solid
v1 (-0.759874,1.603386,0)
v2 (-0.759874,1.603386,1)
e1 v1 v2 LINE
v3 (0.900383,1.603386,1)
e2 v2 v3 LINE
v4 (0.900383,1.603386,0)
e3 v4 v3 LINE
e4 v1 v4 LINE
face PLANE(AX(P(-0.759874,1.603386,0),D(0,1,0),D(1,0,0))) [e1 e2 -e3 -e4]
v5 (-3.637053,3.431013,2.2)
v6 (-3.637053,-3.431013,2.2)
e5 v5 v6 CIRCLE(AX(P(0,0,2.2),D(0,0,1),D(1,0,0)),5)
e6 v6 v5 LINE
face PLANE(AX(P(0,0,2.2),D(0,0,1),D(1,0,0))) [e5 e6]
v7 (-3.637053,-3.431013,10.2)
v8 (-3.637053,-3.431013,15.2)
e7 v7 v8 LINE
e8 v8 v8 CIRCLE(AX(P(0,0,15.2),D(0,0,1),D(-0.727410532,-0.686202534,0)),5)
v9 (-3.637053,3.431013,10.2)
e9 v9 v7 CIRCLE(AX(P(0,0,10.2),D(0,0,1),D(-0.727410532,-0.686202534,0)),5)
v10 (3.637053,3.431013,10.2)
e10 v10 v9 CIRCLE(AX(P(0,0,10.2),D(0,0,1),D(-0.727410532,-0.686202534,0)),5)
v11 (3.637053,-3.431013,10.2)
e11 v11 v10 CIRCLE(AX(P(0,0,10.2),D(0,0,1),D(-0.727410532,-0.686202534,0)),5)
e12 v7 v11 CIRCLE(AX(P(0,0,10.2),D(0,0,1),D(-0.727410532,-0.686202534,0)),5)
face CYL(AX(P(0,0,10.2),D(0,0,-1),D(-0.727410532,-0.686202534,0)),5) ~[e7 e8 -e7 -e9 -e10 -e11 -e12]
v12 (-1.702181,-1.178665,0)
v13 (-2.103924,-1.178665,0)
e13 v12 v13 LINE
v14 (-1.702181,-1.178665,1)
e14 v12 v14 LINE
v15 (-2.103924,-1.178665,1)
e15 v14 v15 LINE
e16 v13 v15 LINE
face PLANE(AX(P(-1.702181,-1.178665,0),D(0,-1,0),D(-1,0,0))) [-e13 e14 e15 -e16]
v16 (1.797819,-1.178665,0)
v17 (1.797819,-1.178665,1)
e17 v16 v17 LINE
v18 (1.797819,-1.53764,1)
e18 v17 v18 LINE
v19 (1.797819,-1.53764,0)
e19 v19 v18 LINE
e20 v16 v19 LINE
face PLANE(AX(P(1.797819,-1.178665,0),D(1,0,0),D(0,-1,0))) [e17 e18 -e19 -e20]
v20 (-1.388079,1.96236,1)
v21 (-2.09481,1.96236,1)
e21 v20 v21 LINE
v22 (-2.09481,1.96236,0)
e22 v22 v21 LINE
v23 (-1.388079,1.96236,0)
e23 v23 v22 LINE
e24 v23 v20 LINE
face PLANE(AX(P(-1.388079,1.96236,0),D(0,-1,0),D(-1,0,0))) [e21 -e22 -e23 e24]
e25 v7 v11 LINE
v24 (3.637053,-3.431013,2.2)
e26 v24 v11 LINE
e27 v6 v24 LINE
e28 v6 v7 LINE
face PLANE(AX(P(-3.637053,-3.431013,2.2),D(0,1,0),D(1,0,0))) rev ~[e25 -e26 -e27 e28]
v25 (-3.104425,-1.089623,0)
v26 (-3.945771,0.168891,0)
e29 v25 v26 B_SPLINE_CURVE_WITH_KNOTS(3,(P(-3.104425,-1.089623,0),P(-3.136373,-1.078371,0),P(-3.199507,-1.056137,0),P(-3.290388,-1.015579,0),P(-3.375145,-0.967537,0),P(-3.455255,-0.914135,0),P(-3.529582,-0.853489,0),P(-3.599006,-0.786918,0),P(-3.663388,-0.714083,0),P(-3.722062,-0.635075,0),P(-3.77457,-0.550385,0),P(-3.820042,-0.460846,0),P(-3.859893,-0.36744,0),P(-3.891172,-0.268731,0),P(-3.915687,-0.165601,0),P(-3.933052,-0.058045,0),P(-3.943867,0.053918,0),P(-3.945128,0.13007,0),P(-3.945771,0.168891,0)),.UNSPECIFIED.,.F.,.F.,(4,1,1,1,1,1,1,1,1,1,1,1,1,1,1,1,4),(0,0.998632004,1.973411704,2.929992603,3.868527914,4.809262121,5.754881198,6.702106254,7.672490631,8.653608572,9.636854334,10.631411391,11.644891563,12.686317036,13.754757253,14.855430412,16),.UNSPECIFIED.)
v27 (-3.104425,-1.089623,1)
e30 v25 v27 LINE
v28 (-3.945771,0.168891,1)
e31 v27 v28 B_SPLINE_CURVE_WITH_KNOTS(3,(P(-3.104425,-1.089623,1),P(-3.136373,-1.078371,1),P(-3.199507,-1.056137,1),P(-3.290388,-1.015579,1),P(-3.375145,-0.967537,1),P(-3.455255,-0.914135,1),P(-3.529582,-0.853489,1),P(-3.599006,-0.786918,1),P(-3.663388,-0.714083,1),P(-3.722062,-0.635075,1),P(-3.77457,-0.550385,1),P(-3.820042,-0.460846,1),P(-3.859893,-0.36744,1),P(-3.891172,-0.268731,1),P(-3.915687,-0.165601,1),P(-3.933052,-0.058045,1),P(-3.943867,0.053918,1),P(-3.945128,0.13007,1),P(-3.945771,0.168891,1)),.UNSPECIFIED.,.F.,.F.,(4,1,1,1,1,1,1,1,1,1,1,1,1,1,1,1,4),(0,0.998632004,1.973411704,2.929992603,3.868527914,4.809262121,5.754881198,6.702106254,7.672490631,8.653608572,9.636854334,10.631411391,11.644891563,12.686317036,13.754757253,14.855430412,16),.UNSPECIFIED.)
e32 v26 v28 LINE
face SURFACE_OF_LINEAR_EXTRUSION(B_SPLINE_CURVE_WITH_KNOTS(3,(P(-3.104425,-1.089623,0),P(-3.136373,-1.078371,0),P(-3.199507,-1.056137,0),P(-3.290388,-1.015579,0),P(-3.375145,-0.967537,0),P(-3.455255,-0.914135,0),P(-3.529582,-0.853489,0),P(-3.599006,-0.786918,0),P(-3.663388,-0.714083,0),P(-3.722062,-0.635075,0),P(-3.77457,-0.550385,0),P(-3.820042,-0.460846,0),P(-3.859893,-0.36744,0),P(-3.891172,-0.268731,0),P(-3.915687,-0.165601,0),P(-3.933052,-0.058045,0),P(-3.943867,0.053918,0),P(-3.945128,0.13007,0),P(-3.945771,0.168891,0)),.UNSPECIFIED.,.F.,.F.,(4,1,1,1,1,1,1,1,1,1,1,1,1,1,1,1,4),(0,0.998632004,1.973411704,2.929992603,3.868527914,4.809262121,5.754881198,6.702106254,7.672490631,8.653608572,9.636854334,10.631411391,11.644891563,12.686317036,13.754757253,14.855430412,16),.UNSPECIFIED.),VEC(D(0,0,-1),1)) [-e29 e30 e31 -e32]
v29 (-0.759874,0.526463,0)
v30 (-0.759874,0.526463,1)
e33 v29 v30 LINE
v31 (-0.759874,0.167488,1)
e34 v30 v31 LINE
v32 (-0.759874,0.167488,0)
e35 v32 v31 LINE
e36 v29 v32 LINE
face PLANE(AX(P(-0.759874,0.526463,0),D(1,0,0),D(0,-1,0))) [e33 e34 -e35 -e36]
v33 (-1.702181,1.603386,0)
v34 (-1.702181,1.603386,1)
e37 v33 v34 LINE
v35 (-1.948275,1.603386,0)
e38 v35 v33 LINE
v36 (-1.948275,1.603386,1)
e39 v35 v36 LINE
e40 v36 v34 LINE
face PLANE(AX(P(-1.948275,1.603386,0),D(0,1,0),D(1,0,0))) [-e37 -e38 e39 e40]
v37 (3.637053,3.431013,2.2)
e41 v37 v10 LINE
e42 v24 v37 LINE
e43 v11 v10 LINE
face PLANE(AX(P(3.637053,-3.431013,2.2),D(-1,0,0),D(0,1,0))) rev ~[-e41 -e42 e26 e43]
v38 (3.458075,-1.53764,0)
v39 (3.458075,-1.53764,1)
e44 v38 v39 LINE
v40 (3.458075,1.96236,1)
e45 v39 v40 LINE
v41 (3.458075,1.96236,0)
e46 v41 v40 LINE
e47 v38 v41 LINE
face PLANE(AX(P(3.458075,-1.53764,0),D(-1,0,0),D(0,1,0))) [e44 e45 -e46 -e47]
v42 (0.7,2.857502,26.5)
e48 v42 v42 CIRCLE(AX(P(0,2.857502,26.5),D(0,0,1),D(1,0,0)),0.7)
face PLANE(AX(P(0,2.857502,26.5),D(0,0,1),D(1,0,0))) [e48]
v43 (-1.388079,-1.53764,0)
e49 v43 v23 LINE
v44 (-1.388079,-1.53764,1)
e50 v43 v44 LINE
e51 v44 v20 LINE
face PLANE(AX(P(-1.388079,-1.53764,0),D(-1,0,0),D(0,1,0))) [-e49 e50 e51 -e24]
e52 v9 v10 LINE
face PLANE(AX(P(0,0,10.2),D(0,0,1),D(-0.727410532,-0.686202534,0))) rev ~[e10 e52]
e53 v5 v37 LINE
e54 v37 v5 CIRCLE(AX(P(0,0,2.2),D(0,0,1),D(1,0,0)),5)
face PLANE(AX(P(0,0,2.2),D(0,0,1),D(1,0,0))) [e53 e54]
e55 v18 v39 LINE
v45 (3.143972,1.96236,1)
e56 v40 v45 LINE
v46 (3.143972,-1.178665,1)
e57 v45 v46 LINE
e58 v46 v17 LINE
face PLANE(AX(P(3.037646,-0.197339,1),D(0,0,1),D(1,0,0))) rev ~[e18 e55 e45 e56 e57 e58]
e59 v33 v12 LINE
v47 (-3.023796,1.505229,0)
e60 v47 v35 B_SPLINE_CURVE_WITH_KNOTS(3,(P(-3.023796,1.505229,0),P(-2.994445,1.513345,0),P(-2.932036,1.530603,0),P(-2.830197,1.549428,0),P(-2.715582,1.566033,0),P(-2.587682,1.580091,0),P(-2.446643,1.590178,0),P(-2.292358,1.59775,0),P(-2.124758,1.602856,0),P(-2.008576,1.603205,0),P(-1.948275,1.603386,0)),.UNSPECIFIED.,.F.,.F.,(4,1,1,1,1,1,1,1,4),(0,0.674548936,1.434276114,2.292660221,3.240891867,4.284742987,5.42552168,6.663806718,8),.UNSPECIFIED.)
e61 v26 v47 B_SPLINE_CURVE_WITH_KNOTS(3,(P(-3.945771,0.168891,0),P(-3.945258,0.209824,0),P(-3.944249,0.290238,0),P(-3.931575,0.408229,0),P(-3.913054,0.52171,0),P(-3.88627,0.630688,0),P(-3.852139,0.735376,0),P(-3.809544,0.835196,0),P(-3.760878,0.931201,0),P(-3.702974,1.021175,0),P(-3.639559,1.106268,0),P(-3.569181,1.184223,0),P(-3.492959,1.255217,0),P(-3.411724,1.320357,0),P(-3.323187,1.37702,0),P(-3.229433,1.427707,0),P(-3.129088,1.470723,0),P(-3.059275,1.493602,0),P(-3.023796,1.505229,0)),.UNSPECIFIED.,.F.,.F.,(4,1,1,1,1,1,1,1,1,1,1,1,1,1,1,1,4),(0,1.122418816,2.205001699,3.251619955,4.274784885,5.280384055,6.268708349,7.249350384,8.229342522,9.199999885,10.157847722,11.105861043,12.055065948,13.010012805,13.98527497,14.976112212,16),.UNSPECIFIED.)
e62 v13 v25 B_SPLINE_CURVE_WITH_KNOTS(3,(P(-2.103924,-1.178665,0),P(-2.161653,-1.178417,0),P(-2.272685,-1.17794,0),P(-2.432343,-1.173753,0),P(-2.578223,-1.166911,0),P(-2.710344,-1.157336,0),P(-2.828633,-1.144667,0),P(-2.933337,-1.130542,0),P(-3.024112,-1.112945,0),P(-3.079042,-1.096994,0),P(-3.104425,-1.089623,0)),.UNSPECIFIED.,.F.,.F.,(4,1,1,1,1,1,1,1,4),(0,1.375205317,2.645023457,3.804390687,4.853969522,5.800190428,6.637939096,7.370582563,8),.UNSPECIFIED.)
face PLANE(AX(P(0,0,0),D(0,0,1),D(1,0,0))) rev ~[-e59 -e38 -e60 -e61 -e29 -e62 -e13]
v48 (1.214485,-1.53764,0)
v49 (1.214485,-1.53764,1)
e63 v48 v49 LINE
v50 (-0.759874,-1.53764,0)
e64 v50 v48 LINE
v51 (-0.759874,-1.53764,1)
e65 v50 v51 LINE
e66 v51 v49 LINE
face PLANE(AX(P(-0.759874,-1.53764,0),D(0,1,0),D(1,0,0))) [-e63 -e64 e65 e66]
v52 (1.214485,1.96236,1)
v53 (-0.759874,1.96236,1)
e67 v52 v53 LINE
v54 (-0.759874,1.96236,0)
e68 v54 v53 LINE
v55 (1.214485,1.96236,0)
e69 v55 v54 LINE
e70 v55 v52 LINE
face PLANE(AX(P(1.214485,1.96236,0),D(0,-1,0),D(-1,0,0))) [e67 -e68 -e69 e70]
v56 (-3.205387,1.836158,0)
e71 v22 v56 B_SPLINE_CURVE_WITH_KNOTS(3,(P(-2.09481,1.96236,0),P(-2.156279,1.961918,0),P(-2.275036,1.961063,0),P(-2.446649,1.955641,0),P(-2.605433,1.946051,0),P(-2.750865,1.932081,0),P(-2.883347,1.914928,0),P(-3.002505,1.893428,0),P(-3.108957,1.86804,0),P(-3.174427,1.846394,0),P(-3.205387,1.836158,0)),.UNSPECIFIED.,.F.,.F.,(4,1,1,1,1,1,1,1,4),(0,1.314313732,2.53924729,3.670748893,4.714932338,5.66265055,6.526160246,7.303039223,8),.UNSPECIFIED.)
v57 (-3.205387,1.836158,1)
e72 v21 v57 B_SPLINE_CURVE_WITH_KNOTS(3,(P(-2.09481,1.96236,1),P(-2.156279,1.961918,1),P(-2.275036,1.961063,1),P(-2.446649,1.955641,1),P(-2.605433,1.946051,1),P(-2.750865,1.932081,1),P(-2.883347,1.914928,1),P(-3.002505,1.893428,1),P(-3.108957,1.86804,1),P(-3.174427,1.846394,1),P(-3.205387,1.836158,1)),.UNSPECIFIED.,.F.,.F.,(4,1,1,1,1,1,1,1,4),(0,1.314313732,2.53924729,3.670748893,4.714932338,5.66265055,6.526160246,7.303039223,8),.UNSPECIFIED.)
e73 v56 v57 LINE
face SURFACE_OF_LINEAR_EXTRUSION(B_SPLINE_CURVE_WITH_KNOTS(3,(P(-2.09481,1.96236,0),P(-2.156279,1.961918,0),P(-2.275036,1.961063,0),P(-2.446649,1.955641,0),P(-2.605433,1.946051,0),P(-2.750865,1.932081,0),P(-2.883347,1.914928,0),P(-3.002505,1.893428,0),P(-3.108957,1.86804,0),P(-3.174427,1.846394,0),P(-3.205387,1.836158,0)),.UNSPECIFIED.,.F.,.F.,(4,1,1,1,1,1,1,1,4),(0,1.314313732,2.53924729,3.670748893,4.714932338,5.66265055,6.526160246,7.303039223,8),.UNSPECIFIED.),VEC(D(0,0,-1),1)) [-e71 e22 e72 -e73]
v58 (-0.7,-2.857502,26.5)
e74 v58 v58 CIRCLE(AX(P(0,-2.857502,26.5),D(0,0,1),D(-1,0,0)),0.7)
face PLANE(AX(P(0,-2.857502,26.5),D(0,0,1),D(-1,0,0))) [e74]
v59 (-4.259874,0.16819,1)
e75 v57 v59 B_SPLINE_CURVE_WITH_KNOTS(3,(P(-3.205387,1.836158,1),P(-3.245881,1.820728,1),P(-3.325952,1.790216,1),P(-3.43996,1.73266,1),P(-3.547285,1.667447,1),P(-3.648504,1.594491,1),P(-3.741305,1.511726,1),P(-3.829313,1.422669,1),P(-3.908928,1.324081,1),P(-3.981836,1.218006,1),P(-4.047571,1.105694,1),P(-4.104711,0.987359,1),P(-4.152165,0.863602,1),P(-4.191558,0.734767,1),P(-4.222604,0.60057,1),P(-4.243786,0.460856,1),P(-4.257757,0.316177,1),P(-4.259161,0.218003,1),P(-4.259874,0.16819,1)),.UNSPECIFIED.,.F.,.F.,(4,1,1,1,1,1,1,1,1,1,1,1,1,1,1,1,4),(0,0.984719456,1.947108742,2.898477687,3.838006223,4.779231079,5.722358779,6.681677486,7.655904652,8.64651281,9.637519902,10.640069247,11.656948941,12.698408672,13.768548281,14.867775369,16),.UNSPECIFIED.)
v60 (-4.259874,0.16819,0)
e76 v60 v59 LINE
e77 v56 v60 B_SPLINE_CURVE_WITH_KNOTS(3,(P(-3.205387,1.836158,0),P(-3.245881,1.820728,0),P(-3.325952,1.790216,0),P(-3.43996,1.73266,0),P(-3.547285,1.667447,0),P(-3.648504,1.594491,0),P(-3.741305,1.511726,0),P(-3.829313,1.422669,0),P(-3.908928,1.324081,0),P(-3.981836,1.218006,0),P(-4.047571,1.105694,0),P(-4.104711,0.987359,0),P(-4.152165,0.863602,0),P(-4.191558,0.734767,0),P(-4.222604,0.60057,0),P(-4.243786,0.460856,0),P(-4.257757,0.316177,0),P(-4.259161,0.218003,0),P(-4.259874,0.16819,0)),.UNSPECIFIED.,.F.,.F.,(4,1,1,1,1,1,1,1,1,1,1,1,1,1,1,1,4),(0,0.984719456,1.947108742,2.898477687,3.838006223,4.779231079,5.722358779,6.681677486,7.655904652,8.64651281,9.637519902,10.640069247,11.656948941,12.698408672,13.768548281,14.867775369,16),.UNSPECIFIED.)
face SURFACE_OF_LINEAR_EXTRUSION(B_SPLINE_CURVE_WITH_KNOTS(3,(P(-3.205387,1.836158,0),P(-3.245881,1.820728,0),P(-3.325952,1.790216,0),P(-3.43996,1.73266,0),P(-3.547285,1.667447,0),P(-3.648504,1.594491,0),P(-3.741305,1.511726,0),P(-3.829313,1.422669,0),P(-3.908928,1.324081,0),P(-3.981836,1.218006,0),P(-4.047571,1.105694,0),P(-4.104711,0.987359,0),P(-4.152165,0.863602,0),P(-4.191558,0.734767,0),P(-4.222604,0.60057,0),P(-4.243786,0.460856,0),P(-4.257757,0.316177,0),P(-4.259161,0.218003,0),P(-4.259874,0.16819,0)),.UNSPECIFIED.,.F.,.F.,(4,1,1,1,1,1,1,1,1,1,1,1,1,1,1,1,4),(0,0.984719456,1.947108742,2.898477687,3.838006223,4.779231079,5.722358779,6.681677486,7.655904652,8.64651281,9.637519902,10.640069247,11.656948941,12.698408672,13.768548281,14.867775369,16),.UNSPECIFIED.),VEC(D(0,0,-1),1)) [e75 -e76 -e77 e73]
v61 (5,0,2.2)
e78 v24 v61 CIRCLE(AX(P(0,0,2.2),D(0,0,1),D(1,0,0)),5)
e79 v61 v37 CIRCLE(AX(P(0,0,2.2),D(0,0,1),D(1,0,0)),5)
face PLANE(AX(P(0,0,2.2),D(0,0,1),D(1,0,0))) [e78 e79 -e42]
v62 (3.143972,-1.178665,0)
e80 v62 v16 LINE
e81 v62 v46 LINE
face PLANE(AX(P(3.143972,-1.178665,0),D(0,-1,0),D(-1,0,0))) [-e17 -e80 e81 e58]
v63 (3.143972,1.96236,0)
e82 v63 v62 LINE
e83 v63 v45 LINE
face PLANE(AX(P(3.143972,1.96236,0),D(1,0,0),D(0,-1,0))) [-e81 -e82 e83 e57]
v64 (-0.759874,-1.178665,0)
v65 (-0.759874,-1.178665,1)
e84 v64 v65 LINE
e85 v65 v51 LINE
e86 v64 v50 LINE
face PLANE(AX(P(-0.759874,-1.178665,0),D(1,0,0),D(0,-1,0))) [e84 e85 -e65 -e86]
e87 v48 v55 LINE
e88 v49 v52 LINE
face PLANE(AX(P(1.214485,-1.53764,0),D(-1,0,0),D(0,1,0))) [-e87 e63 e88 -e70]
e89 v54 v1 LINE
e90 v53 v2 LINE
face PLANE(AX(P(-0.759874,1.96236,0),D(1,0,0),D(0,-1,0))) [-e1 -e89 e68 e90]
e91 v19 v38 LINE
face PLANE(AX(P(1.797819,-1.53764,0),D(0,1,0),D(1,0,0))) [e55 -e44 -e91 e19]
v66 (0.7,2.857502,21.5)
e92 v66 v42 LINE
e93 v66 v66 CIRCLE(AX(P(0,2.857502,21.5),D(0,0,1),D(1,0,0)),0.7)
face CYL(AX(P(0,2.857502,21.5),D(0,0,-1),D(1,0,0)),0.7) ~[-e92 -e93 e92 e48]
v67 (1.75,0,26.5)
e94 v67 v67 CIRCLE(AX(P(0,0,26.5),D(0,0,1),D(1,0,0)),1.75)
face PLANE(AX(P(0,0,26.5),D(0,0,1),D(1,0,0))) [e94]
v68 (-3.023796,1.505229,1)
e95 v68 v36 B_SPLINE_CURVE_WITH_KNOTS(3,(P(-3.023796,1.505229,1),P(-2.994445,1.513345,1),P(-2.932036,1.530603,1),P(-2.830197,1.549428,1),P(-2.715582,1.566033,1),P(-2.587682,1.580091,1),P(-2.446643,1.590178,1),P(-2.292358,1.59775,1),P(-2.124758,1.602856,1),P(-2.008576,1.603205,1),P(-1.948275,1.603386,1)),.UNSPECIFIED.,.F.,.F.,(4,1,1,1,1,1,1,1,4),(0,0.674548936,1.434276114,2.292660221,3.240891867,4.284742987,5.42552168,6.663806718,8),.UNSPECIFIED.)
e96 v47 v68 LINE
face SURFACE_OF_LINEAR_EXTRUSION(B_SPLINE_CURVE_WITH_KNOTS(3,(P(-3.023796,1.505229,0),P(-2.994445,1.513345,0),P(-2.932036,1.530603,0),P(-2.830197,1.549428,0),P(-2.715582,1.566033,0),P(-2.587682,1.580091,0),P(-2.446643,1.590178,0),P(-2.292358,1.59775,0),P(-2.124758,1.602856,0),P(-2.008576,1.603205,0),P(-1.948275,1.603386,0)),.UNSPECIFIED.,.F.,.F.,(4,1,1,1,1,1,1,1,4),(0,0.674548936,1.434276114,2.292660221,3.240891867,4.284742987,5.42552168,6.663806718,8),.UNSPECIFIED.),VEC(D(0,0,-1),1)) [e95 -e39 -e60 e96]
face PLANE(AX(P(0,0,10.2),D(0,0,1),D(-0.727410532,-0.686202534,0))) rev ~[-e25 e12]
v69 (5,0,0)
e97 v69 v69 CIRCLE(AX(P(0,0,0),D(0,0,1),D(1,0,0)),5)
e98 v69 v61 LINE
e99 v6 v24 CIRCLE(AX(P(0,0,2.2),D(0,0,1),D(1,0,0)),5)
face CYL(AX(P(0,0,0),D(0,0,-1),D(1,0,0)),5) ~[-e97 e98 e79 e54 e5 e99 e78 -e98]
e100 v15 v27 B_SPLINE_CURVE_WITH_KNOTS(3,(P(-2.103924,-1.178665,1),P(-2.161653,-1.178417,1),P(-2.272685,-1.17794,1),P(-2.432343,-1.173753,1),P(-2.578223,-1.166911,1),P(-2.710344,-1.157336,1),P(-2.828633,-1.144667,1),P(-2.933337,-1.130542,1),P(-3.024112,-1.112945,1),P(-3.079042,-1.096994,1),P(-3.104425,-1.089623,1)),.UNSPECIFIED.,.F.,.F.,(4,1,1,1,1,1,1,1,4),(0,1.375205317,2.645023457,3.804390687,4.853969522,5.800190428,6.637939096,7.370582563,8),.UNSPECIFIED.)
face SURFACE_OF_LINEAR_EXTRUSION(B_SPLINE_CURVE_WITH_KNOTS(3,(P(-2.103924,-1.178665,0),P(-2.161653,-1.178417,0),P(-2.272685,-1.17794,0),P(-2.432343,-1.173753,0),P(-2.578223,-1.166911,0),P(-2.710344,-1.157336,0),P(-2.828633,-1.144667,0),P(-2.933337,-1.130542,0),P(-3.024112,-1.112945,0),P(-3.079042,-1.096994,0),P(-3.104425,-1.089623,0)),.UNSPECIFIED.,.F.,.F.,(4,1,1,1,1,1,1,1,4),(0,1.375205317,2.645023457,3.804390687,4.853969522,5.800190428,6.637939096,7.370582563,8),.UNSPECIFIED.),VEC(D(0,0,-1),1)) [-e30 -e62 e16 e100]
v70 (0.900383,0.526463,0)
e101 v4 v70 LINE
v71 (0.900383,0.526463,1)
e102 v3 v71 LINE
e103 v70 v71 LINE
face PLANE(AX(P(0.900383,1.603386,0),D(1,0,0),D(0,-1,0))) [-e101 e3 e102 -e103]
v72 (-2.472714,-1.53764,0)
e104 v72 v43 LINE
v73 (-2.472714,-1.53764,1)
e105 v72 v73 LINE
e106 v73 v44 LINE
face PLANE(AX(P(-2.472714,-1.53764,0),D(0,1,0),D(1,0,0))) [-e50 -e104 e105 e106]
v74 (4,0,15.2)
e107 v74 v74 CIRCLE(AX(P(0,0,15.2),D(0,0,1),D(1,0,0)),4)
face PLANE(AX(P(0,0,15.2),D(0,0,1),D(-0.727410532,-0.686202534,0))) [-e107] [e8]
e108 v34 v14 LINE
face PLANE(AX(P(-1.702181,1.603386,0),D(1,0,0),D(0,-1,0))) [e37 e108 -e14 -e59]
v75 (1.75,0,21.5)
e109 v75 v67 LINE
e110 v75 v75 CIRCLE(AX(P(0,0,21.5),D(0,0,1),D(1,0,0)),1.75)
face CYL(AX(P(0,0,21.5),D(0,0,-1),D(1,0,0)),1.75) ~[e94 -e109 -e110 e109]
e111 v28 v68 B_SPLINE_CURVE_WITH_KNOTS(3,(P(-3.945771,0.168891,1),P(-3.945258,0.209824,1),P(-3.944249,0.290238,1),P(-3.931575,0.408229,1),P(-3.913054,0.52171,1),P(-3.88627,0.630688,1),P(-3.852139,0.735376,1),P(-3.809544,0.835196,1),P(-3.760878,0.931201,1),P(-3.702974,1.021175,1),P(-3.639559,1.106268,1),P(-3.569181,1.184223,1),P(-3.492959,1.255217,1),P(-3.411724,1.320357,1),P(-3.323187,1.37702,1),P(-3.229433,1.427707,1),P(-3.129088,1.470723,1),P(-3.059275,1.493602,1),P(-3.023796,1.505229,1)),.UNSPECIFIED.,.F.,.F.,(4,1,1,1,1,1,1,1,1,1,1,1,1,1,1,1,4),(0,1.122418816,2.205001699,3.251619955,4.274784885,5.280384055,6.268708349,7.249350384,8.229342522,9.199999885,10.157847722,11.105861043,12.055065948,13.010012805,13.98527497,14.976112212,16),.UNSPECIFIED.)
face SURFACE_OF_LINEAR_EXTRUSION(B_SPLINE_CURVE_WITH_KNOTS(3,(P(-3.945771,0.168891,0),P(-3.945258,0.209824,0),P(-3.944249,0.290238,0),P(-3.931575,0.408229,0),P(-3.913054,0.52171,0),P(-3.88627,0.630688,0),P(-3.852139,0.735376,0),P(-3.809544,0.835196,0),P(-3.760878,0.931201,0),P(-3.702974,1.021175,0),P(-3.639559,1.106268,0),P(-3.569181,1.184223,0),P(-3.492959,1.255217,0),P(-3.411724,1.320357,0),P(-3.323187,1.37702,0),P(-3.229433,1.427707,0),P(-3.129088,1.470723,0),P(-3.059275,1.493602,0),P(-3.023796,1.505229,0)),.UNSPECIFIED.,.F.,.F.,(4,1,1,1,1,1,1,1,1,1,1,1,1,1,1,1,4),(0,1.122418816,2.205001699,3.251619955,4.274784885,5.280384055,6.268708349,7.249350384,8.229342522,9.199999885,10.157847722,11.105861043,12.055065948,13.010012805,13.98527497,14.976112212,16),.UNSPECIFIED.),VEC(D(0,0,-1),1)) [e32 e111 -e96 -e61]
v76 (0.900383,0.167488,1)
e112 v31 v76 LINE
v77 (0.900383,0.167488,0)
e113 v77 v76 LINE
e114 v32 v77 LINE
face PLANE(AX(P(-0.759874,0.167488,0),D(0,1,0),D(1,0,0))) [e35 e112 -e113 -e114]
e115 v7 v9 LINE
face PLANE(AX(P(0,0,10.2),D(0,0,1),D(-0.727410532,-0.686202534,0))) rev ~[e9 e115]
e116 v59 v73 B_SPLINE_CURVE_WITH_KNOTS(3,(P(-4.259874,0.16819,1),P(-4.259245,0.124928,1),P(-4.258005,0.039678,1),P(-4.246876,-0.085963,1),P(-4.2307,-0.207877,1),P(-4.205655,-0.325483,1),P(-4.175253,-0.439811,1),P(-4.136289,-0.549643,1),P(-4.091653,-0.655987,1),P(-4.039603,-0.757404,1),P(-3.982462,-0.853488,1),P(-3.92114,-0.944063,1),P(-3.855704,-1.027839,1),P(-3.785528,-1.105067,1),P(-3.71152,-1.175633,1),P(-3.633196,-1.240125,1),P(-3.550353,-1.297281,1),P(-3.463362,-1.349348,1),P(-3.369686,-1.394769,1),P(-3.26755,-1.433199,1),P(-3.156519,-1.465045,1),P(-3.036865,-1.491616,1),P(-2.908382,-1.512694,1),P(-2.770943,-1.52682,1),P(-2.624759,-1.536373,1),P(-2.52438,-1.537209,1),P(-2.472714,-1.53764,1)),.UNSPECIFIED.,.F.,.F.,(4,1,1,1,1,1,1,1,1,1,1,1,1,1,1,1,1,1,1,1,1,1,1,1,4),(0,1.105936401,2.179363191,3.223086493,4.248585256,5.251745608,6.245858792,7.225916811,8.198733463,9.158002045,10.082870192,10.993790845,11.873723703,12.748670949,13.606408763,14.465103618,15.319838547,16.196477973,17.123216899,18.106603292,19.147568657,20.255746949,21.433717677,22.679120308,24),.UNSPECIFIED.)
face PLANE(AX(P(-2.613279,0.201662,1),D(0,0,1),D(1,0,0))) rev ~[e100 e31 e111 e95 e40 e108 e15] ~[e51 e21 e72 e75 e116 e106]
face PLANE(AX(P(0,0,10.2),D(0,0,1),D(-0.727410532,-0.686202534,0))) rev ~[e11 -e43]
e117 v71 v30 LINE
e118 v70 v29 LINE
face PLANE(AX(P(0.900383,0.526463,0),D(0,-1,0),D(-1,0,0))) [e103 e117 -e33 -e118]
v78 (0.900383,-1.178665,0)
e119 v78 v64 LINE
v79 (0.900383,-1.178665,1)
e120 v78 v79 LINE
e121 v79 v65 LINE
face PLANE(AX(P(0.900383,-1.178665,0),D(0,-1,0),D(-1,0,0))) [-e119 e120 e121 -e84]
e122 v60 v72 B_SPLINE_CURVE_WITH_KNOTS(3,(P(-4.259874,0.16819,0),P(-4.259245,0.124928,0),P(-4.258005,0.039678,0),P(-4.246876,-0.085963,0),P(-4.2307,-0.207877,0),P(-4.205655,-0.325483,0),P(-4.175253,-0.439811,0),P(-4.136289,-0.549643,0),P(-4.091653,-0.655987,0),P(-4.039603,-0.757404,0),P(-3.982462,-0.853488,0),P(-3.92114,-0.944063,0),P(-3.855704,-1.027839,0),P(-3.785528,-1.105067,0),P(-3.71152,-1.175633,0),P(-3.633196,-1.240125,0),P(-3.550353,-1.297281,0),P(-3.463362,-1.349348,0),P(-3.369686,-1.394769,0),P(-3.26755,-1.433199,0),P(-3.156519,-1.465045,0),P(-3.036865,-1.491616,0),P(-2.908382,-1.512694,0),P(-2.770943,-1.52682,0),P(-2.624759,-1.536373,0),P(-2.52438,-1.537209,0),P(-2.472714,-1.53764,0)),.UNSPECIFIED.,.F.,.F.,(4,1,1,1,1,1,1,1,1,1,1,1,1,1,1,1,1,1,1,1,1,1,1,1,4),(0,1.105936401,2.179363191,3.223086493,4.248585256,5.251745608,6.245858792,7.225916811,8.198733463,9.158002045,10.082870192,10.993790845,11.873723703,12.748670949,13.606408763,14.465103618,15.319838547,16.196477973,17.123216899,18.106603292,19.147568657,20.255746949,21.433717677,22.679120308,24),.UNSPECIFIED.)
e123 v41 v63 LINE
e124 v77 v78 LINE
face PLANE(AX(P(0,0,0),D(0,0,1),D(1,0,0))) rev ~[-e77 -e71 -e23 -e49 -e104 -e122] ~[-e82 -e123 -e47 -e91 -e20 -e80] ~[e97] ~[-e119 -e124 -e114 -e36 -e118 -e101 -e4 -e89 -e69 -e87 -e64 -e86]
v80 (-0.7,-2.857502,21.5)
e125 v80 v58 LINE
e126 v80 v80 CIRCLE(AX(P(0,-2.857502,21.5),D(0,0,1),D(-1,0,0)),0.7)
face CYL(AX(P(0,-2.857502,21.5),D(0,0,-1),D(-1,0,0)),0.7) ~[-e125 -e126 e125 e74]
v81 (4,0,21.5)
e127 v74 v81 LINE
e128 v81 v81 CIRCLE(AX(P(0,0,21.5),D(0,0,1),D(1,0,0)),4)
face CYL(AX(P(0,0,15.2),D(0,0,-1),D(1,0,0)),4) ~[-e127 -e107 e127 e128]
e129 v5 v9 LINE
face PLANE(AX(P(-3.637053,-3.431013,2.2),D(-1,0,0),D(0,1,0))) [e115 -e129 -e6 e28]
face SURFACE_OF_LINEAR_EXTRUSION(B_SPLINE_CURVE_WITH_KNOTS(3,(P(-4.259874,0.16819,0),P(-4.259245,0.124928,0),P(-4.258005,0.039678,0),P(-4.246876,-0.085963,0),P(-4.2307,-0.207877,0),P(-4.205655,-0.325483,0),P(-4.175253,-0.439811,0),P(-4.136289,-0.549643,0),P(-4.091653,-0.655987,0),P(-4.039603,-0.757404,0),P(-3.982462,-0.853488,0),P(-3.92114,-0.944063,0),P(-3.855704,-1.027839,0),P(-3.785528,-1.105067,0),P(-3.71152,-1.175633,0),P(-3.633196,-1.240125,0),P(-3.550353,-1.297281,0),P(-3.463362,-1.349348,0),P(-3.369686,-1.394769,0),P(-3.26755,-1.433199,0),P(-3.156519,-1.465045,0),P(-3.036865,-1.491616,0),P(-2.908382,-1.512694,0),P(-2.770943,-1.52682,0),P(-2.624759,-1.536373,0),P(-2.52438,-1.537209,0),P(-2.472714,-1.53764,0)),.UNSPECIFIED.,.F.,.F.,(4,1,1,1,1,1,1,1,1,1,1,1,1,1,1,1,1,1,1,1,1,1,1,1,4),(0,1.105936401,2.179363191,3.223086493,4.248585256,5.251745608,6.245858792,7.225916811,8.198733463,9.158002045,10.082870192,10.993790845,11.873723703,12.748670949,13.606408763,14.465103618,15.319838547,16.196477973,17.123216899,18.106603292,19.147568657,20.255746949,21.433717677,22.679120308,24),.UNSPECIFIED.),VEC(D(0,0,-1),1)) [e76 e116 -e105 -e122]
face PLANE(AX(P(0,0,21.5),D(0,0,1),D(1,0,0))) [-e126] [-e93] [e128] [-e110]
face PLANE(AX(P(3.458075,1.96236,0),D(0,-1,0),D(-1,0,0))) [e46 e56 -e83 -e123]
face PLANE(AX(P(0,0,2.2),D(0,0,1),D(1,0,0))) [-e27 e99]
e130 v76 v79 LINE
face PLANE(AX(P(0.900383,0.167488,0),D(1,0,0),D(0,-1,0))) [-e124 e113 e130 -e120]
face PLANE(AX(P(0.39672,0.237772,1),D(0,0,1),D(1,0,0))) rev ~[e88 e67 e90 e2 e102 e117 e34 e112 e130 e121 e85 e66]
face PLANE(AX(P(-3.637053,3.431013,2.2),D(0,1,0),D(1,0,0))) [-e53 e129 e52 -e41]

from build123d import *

# Parameters (mm, degrees)
CYLINDER_FACE_R      = 5
BASE_CYLINDER_DEPTH  = 2.2
RECTANGULAR_THING_W  = 7.274105322
RECTANGULAR_THING_H  = 6.86202534
RECTANGULAR_DEPTH    = 8
SKETCH5_R            = 5
F_2ND_CYLINDER_DEPTH = 5
SKETCH6_R            = 4
F_3RD_CYLINDER_DEPTH = 6.3
SKETCH7_R            = 1.75
TOP_CYLINDER_DEPTH   = 5
SKETCH9_R            = 0.7
PRONGS_DEPTH         = 5
CUT_EXTRUDE1_DEPTH   = 1


with BuildPart() as part:
    # Cylinder Face → Base Cylinder (new body)
    with BuildSketch(Plane.XY):
        Circle(CYLINDER_FACE_R)
    extrude(amount=BASE_CYLINDER_DEPTH)

    # rectangular thing → rectangular (add)
    with BuildSketch(Plane.XY.offset(2.2)):
        Rectangle(RECTANGULAR_THING_W, RECTANGULAR_THING_H)
    extrude(amount=RECTANGULAR_DEPTH)

    # Sketch5 → 2nd Cylinder (add)
    with BuildSketch(Plane.XY.offset(10.2)):
        with Locations(Location((0, 0, 0), (0, 0, 223.330253175))):
            Circle(SKETCH5_R)
    extrude(amount=F_2ND_CYLINDER_DEPTH)

    # Sketch6 → 3rd Cylinder (add)
    with BuildSketch(Plane.XY.offset(15.2)):
        Circle(SKETCH6_R)
    extrude(amount=F_3RD_CYLINDER_DEPTH)

    # Sketch7 → Top Cylinder (add)
    with BuildSketch(Plane.XY.offset(21.5)):
        Circle(SKETCH7_R)
    extrude(amount=TOP_CYLINDER_DEPTH)

    # Sketch9 → Prongs? (add)
    with BuildSketch(Plane.XY.offset(21.5)):
        with Locations((0, 2.857502284)):
            Circle(SKETCH9_R)
        with Locations(Location((0, -2.857502284, 0), (0, 0, 180))):
            Circle(SKETCH9_R)
    extrude(amount=PRONGS_DEPTH)

    # Sketch10 → Cut-Extrude1 (cut)
    # profile 1 of 3: a face of its own
    with BuildSketch(Plane(origin=(0, 0, 0), x_dir=(-1, 0, 0), z_dir=(0, 0, -1))):
        Polygon((-3.458075012, 1.962360203), (-3.143972448, 1.962360203), (-3.143972448, -1.178665438), (-1.797818602, -1.178665438), (-1.797818602, -1.537639797), (-3.458075012, -1.537639797), align=None)
    # profile 2 of 3: a face of its own
    with BuildSketch(Plane(origin=(0, 0, 0), x_dir=(-1, 0, 0), z_dir=(0, 0, -1))):
        Polygon((-1.214485269, 1.962360203), (0.759873706, 1.962360203), (0.759873706, 1.603385844), (-0.900382705, 1.603385844), (-0.900382705, 0.526462767), (0.759873706, 0.526462767), (0.759873706, 0.167488408), (-0.900382705, 0.167488408), (-0.900382705, -1.178665438), (0.759873706, -1.178665438), (0.759873706, -1.537639797), (-1.214485269, -1.537639797), align=None)
    # profile 3 of 3: a face of its own
    with BuildSketch(Plane(origin=(0, 0, 0), x_dir=(-1, 0, 0), z_dir=(0, 0, -1))):
        with BuildLine():
            Line((1.388078834, -1.537639797), (1.388078834, 1.962360203))
            Line((1.388078834, 1.962360203), (2.094809603, 1.962360203))
            add(Edge.make_bspline(
                [(2.094809603, 1.962360203), (2.156278591, 1.961917633), (2.275036357, 1.96106259), (2.446648804, 1.955641199), (2.605432567, 1.946050733), (2.750865426, 1.932081207), (2.883346638, 1.914928173), (3.002505246, 1.893427769), (3.108957389, 1.868039598), (3.174426829, 1.846394148), (3.205386526, 1.83615828)],
                knots=[0, 0, 0, 0, 1.314313732, 2.53924729, 3.670748893, 4.714932338, 5.66265055, 6.526160246, 7.303039223, 8, 8, 8, 8], degree=3))
            add(Edge.make_bspline(
                [(3.205386526, 1.83615828), (3.245881265, 1.820727574), (3.325952458, 1.79021608), (3.43995958, 1.732659779), (3.547284943, 1.667446677), (3.648504088, 1.594490814), (3.741304915, 1.511726466), (3.829312811, 1.42266938), (3.908927535, 1.32408104), (3.981835831, 1.218006052), (4.047571491, 1.105694), (4.104710648, 0.987358891), (4.152164642, 0.863601683), (4.191557868, 0.734766535), (4.222604326, 0.600570157), (4.243786258, 0.460856291), (4.257757247, 0.316177102), (4.259161299, 0.218002638), (4.259873706, 0.16818953)],
                knots=[0, 0, 0, 0, 0.984719456, 1.947108742, 2.898477687, 3.838006223, 4.779231079, 5.722358779, 6.681677486, 7.655904652, 8.64651281, 9.637519902, 10.640069247, 11.656948941, 12.698408672, 13.768548281, 14.867775369, 16, 16, 16, 16], degree=3))
            add(Edge.make_bspline(
                [(4.259873706, 0.16818953), (4.259244738, 0.124928291), (4.258005292, 0.039677502), (4.246875976, -0.085963393), (4.230699656, -0.207876965), (4.205655458, -0.325482665), (4.175252945, -0.439810883), (4.136288794, -0.549643127), (4.091653297, -0.655986936), (4.039603419, -0.757404412), (3.982462034, -0.853487784), (3.921140291, -0.944063313), (3.855703595, -1.027838534), (3.785527962, -1.105067146), (3.711520246, -1.175632725), (3.633195915, -1.24012474), (3.550352865, -1.297281295), (3.463362142, -1.349348403), (3.369686013, -1.394768759), (3.267550146, -1.433198769), (3.156518968, -1.465045384), (3.036865011, -1.49161628), (2.908381534, -1.512693582), (2.770942568, -1.526819975), (2.624759278, -1.536372908), (2.524380013, -1.537209301), (2.472714251, -1.537639797)],
                knots=[0, 0, 0, 0, 1.105936401, 2.179363191, 3.223086493, 4.248585256, 5.251745608, 6.245858792, 7.225916811, 8.198733463, 9.158002045, 10.082870192, 10.993790845, 11.873723703, 12.748670949, 13.606408763, 14.465103618, 15.319838547, 16.196477973, 17.123216899, 18.106603292, 19.147568657, 20.255746949, 21.433717677, 22.679120308, 24, 24, 24, 24], degree=3))
            Line((2.472714251, -1.537639797), (1.388078834, -1.537639797))
        make_face()
        with BuildLine():
            Line((1.702181398, -1.178665438), (2.103924186, -1.178665438))
            add(Edge.make_bspline(
                [(2.103924186, -1.178665438), (2.161652557, -1.178417342), (2.272685356, -1.177940162), (2.432343353, -1.173752958), (2.578222749, -1.166911021), (2.710344259, -1.157335943), (2.828633283, -1.144667328), (2.933337033, -1.130542425), (3.024112291, -1.112944974), (3.079041728, -1.096994015), (3.104424988, -1.08962297)],
                knots=[0, 0, 0, 0, 1.375205317, 2.645023457, 3.804390687, 4.853969522, 5.800190428, 6.637939096, 7.370582563, 8, 8, 8, 8], degree=3))
            add(Edge.make_bspline(
                [(3.104424988, -1.08962297), (3.13637335, -1.078371412), (3.199506988, -1.056137039), (3.290388073, -1.015579378), (3.375145078, -0.967537308), (3.455255103, -0.914135034), (3.529581759, -0.853489032), (3.599005875, -0.786918043), (3.663387676, -0.714083268), (3.722061984, -0.635075106), (3.774570288, -0.550385311), (3.820041518, -0.460846477), (3.859893049, -0.367439667), (3.891171642, -0.268730508), (3.915687226, -0.16560145), (3.933051914, -0.058045236), (3.943866638, 0.053918045), (3.945128086, 0.13007017), (3.945771142, 0.168890652)],
                knots=[0, 0, 0, 0, 0.998632004, 1.973411704, 2.929992603, 3.868527914, 4.809262121, 5.754881198, 6.702106254, 7.672490631, 8.653608572, 9.636854334, 10.631411391, 11.644891563, 12.686317036, 13.754757253, 14.855430412, 16, 16, 16, 16], degree=3))
            add(Edge.make_bspline(
                [(3.945771142, 0.168890652), (3.945257854, 0.209824132), (3.944249497, 0.290238316), (3.931575186, 0.408229012), (3.913053631, 0.521709662), (3.886269945, 0.630687857), (3.852139066, 0.73537621), (3.809544424, 0.83519572), (3.760877805, 0.931200589), (3.702974468, 1.021174954), (3.639558875, 1.106268064), (3.569180995, 1.184222979), (3.492958957, 1.255217279), (3.411724107, 1.320356592), (3.323187008, 1.377020268), (3.229433317, 1.427706949), (3.129087646, 1.47072284), (3.05927495, 1.493601703), (3.023795981, 1.505228793)],
                knots=[0, 0, 0, 0, 1.122418816, 2.205001699, 3.251619955, 4.274784885, 5.280384055, 6.268708349, 7.249350384, 8.229342522, 9.199999885, 10.157847722, 11.105861043, 12.055065948, 13.010012805, 13.98527497, 14.976112212, 16, 16, 16, 16], degree=3))
            add(Edge.make_bspline(
                [(3.023795981, 1.505228793), (2.994444835, 1.51334522), (2.932036245, 1.530602973), (2.830196781, 1.549428346), (2.715581631, 1.566032845), (2.58768193, 1.580090884), (2.446643471, 1.590178205), (2.292357783, 1.59774952), (2.124758178, 1.602856152), (2.008575645, 1.60320486), (1.948275148, 1.603385844)],
                knots=[0, 0, 0, 0, 0.674548936, 1.434276114, 2.292660221, 3.240891867, 4.284742987, 5.42552168, 6.663806718, 8, 8, 8, 8], degree=3))
            Line((1.948275148, 1.603385844), (1.702181398, 1.603385844))
            Line((1.702181398, 1.603385844), (1.702181398, -1.178665438))
        make_face(mode=Mode.SUBTRACT)
    extrude(amount=-CUT_EXTRUDE1_DEPTH, mode=Mode.SUBTRACT)


solid = part.part
